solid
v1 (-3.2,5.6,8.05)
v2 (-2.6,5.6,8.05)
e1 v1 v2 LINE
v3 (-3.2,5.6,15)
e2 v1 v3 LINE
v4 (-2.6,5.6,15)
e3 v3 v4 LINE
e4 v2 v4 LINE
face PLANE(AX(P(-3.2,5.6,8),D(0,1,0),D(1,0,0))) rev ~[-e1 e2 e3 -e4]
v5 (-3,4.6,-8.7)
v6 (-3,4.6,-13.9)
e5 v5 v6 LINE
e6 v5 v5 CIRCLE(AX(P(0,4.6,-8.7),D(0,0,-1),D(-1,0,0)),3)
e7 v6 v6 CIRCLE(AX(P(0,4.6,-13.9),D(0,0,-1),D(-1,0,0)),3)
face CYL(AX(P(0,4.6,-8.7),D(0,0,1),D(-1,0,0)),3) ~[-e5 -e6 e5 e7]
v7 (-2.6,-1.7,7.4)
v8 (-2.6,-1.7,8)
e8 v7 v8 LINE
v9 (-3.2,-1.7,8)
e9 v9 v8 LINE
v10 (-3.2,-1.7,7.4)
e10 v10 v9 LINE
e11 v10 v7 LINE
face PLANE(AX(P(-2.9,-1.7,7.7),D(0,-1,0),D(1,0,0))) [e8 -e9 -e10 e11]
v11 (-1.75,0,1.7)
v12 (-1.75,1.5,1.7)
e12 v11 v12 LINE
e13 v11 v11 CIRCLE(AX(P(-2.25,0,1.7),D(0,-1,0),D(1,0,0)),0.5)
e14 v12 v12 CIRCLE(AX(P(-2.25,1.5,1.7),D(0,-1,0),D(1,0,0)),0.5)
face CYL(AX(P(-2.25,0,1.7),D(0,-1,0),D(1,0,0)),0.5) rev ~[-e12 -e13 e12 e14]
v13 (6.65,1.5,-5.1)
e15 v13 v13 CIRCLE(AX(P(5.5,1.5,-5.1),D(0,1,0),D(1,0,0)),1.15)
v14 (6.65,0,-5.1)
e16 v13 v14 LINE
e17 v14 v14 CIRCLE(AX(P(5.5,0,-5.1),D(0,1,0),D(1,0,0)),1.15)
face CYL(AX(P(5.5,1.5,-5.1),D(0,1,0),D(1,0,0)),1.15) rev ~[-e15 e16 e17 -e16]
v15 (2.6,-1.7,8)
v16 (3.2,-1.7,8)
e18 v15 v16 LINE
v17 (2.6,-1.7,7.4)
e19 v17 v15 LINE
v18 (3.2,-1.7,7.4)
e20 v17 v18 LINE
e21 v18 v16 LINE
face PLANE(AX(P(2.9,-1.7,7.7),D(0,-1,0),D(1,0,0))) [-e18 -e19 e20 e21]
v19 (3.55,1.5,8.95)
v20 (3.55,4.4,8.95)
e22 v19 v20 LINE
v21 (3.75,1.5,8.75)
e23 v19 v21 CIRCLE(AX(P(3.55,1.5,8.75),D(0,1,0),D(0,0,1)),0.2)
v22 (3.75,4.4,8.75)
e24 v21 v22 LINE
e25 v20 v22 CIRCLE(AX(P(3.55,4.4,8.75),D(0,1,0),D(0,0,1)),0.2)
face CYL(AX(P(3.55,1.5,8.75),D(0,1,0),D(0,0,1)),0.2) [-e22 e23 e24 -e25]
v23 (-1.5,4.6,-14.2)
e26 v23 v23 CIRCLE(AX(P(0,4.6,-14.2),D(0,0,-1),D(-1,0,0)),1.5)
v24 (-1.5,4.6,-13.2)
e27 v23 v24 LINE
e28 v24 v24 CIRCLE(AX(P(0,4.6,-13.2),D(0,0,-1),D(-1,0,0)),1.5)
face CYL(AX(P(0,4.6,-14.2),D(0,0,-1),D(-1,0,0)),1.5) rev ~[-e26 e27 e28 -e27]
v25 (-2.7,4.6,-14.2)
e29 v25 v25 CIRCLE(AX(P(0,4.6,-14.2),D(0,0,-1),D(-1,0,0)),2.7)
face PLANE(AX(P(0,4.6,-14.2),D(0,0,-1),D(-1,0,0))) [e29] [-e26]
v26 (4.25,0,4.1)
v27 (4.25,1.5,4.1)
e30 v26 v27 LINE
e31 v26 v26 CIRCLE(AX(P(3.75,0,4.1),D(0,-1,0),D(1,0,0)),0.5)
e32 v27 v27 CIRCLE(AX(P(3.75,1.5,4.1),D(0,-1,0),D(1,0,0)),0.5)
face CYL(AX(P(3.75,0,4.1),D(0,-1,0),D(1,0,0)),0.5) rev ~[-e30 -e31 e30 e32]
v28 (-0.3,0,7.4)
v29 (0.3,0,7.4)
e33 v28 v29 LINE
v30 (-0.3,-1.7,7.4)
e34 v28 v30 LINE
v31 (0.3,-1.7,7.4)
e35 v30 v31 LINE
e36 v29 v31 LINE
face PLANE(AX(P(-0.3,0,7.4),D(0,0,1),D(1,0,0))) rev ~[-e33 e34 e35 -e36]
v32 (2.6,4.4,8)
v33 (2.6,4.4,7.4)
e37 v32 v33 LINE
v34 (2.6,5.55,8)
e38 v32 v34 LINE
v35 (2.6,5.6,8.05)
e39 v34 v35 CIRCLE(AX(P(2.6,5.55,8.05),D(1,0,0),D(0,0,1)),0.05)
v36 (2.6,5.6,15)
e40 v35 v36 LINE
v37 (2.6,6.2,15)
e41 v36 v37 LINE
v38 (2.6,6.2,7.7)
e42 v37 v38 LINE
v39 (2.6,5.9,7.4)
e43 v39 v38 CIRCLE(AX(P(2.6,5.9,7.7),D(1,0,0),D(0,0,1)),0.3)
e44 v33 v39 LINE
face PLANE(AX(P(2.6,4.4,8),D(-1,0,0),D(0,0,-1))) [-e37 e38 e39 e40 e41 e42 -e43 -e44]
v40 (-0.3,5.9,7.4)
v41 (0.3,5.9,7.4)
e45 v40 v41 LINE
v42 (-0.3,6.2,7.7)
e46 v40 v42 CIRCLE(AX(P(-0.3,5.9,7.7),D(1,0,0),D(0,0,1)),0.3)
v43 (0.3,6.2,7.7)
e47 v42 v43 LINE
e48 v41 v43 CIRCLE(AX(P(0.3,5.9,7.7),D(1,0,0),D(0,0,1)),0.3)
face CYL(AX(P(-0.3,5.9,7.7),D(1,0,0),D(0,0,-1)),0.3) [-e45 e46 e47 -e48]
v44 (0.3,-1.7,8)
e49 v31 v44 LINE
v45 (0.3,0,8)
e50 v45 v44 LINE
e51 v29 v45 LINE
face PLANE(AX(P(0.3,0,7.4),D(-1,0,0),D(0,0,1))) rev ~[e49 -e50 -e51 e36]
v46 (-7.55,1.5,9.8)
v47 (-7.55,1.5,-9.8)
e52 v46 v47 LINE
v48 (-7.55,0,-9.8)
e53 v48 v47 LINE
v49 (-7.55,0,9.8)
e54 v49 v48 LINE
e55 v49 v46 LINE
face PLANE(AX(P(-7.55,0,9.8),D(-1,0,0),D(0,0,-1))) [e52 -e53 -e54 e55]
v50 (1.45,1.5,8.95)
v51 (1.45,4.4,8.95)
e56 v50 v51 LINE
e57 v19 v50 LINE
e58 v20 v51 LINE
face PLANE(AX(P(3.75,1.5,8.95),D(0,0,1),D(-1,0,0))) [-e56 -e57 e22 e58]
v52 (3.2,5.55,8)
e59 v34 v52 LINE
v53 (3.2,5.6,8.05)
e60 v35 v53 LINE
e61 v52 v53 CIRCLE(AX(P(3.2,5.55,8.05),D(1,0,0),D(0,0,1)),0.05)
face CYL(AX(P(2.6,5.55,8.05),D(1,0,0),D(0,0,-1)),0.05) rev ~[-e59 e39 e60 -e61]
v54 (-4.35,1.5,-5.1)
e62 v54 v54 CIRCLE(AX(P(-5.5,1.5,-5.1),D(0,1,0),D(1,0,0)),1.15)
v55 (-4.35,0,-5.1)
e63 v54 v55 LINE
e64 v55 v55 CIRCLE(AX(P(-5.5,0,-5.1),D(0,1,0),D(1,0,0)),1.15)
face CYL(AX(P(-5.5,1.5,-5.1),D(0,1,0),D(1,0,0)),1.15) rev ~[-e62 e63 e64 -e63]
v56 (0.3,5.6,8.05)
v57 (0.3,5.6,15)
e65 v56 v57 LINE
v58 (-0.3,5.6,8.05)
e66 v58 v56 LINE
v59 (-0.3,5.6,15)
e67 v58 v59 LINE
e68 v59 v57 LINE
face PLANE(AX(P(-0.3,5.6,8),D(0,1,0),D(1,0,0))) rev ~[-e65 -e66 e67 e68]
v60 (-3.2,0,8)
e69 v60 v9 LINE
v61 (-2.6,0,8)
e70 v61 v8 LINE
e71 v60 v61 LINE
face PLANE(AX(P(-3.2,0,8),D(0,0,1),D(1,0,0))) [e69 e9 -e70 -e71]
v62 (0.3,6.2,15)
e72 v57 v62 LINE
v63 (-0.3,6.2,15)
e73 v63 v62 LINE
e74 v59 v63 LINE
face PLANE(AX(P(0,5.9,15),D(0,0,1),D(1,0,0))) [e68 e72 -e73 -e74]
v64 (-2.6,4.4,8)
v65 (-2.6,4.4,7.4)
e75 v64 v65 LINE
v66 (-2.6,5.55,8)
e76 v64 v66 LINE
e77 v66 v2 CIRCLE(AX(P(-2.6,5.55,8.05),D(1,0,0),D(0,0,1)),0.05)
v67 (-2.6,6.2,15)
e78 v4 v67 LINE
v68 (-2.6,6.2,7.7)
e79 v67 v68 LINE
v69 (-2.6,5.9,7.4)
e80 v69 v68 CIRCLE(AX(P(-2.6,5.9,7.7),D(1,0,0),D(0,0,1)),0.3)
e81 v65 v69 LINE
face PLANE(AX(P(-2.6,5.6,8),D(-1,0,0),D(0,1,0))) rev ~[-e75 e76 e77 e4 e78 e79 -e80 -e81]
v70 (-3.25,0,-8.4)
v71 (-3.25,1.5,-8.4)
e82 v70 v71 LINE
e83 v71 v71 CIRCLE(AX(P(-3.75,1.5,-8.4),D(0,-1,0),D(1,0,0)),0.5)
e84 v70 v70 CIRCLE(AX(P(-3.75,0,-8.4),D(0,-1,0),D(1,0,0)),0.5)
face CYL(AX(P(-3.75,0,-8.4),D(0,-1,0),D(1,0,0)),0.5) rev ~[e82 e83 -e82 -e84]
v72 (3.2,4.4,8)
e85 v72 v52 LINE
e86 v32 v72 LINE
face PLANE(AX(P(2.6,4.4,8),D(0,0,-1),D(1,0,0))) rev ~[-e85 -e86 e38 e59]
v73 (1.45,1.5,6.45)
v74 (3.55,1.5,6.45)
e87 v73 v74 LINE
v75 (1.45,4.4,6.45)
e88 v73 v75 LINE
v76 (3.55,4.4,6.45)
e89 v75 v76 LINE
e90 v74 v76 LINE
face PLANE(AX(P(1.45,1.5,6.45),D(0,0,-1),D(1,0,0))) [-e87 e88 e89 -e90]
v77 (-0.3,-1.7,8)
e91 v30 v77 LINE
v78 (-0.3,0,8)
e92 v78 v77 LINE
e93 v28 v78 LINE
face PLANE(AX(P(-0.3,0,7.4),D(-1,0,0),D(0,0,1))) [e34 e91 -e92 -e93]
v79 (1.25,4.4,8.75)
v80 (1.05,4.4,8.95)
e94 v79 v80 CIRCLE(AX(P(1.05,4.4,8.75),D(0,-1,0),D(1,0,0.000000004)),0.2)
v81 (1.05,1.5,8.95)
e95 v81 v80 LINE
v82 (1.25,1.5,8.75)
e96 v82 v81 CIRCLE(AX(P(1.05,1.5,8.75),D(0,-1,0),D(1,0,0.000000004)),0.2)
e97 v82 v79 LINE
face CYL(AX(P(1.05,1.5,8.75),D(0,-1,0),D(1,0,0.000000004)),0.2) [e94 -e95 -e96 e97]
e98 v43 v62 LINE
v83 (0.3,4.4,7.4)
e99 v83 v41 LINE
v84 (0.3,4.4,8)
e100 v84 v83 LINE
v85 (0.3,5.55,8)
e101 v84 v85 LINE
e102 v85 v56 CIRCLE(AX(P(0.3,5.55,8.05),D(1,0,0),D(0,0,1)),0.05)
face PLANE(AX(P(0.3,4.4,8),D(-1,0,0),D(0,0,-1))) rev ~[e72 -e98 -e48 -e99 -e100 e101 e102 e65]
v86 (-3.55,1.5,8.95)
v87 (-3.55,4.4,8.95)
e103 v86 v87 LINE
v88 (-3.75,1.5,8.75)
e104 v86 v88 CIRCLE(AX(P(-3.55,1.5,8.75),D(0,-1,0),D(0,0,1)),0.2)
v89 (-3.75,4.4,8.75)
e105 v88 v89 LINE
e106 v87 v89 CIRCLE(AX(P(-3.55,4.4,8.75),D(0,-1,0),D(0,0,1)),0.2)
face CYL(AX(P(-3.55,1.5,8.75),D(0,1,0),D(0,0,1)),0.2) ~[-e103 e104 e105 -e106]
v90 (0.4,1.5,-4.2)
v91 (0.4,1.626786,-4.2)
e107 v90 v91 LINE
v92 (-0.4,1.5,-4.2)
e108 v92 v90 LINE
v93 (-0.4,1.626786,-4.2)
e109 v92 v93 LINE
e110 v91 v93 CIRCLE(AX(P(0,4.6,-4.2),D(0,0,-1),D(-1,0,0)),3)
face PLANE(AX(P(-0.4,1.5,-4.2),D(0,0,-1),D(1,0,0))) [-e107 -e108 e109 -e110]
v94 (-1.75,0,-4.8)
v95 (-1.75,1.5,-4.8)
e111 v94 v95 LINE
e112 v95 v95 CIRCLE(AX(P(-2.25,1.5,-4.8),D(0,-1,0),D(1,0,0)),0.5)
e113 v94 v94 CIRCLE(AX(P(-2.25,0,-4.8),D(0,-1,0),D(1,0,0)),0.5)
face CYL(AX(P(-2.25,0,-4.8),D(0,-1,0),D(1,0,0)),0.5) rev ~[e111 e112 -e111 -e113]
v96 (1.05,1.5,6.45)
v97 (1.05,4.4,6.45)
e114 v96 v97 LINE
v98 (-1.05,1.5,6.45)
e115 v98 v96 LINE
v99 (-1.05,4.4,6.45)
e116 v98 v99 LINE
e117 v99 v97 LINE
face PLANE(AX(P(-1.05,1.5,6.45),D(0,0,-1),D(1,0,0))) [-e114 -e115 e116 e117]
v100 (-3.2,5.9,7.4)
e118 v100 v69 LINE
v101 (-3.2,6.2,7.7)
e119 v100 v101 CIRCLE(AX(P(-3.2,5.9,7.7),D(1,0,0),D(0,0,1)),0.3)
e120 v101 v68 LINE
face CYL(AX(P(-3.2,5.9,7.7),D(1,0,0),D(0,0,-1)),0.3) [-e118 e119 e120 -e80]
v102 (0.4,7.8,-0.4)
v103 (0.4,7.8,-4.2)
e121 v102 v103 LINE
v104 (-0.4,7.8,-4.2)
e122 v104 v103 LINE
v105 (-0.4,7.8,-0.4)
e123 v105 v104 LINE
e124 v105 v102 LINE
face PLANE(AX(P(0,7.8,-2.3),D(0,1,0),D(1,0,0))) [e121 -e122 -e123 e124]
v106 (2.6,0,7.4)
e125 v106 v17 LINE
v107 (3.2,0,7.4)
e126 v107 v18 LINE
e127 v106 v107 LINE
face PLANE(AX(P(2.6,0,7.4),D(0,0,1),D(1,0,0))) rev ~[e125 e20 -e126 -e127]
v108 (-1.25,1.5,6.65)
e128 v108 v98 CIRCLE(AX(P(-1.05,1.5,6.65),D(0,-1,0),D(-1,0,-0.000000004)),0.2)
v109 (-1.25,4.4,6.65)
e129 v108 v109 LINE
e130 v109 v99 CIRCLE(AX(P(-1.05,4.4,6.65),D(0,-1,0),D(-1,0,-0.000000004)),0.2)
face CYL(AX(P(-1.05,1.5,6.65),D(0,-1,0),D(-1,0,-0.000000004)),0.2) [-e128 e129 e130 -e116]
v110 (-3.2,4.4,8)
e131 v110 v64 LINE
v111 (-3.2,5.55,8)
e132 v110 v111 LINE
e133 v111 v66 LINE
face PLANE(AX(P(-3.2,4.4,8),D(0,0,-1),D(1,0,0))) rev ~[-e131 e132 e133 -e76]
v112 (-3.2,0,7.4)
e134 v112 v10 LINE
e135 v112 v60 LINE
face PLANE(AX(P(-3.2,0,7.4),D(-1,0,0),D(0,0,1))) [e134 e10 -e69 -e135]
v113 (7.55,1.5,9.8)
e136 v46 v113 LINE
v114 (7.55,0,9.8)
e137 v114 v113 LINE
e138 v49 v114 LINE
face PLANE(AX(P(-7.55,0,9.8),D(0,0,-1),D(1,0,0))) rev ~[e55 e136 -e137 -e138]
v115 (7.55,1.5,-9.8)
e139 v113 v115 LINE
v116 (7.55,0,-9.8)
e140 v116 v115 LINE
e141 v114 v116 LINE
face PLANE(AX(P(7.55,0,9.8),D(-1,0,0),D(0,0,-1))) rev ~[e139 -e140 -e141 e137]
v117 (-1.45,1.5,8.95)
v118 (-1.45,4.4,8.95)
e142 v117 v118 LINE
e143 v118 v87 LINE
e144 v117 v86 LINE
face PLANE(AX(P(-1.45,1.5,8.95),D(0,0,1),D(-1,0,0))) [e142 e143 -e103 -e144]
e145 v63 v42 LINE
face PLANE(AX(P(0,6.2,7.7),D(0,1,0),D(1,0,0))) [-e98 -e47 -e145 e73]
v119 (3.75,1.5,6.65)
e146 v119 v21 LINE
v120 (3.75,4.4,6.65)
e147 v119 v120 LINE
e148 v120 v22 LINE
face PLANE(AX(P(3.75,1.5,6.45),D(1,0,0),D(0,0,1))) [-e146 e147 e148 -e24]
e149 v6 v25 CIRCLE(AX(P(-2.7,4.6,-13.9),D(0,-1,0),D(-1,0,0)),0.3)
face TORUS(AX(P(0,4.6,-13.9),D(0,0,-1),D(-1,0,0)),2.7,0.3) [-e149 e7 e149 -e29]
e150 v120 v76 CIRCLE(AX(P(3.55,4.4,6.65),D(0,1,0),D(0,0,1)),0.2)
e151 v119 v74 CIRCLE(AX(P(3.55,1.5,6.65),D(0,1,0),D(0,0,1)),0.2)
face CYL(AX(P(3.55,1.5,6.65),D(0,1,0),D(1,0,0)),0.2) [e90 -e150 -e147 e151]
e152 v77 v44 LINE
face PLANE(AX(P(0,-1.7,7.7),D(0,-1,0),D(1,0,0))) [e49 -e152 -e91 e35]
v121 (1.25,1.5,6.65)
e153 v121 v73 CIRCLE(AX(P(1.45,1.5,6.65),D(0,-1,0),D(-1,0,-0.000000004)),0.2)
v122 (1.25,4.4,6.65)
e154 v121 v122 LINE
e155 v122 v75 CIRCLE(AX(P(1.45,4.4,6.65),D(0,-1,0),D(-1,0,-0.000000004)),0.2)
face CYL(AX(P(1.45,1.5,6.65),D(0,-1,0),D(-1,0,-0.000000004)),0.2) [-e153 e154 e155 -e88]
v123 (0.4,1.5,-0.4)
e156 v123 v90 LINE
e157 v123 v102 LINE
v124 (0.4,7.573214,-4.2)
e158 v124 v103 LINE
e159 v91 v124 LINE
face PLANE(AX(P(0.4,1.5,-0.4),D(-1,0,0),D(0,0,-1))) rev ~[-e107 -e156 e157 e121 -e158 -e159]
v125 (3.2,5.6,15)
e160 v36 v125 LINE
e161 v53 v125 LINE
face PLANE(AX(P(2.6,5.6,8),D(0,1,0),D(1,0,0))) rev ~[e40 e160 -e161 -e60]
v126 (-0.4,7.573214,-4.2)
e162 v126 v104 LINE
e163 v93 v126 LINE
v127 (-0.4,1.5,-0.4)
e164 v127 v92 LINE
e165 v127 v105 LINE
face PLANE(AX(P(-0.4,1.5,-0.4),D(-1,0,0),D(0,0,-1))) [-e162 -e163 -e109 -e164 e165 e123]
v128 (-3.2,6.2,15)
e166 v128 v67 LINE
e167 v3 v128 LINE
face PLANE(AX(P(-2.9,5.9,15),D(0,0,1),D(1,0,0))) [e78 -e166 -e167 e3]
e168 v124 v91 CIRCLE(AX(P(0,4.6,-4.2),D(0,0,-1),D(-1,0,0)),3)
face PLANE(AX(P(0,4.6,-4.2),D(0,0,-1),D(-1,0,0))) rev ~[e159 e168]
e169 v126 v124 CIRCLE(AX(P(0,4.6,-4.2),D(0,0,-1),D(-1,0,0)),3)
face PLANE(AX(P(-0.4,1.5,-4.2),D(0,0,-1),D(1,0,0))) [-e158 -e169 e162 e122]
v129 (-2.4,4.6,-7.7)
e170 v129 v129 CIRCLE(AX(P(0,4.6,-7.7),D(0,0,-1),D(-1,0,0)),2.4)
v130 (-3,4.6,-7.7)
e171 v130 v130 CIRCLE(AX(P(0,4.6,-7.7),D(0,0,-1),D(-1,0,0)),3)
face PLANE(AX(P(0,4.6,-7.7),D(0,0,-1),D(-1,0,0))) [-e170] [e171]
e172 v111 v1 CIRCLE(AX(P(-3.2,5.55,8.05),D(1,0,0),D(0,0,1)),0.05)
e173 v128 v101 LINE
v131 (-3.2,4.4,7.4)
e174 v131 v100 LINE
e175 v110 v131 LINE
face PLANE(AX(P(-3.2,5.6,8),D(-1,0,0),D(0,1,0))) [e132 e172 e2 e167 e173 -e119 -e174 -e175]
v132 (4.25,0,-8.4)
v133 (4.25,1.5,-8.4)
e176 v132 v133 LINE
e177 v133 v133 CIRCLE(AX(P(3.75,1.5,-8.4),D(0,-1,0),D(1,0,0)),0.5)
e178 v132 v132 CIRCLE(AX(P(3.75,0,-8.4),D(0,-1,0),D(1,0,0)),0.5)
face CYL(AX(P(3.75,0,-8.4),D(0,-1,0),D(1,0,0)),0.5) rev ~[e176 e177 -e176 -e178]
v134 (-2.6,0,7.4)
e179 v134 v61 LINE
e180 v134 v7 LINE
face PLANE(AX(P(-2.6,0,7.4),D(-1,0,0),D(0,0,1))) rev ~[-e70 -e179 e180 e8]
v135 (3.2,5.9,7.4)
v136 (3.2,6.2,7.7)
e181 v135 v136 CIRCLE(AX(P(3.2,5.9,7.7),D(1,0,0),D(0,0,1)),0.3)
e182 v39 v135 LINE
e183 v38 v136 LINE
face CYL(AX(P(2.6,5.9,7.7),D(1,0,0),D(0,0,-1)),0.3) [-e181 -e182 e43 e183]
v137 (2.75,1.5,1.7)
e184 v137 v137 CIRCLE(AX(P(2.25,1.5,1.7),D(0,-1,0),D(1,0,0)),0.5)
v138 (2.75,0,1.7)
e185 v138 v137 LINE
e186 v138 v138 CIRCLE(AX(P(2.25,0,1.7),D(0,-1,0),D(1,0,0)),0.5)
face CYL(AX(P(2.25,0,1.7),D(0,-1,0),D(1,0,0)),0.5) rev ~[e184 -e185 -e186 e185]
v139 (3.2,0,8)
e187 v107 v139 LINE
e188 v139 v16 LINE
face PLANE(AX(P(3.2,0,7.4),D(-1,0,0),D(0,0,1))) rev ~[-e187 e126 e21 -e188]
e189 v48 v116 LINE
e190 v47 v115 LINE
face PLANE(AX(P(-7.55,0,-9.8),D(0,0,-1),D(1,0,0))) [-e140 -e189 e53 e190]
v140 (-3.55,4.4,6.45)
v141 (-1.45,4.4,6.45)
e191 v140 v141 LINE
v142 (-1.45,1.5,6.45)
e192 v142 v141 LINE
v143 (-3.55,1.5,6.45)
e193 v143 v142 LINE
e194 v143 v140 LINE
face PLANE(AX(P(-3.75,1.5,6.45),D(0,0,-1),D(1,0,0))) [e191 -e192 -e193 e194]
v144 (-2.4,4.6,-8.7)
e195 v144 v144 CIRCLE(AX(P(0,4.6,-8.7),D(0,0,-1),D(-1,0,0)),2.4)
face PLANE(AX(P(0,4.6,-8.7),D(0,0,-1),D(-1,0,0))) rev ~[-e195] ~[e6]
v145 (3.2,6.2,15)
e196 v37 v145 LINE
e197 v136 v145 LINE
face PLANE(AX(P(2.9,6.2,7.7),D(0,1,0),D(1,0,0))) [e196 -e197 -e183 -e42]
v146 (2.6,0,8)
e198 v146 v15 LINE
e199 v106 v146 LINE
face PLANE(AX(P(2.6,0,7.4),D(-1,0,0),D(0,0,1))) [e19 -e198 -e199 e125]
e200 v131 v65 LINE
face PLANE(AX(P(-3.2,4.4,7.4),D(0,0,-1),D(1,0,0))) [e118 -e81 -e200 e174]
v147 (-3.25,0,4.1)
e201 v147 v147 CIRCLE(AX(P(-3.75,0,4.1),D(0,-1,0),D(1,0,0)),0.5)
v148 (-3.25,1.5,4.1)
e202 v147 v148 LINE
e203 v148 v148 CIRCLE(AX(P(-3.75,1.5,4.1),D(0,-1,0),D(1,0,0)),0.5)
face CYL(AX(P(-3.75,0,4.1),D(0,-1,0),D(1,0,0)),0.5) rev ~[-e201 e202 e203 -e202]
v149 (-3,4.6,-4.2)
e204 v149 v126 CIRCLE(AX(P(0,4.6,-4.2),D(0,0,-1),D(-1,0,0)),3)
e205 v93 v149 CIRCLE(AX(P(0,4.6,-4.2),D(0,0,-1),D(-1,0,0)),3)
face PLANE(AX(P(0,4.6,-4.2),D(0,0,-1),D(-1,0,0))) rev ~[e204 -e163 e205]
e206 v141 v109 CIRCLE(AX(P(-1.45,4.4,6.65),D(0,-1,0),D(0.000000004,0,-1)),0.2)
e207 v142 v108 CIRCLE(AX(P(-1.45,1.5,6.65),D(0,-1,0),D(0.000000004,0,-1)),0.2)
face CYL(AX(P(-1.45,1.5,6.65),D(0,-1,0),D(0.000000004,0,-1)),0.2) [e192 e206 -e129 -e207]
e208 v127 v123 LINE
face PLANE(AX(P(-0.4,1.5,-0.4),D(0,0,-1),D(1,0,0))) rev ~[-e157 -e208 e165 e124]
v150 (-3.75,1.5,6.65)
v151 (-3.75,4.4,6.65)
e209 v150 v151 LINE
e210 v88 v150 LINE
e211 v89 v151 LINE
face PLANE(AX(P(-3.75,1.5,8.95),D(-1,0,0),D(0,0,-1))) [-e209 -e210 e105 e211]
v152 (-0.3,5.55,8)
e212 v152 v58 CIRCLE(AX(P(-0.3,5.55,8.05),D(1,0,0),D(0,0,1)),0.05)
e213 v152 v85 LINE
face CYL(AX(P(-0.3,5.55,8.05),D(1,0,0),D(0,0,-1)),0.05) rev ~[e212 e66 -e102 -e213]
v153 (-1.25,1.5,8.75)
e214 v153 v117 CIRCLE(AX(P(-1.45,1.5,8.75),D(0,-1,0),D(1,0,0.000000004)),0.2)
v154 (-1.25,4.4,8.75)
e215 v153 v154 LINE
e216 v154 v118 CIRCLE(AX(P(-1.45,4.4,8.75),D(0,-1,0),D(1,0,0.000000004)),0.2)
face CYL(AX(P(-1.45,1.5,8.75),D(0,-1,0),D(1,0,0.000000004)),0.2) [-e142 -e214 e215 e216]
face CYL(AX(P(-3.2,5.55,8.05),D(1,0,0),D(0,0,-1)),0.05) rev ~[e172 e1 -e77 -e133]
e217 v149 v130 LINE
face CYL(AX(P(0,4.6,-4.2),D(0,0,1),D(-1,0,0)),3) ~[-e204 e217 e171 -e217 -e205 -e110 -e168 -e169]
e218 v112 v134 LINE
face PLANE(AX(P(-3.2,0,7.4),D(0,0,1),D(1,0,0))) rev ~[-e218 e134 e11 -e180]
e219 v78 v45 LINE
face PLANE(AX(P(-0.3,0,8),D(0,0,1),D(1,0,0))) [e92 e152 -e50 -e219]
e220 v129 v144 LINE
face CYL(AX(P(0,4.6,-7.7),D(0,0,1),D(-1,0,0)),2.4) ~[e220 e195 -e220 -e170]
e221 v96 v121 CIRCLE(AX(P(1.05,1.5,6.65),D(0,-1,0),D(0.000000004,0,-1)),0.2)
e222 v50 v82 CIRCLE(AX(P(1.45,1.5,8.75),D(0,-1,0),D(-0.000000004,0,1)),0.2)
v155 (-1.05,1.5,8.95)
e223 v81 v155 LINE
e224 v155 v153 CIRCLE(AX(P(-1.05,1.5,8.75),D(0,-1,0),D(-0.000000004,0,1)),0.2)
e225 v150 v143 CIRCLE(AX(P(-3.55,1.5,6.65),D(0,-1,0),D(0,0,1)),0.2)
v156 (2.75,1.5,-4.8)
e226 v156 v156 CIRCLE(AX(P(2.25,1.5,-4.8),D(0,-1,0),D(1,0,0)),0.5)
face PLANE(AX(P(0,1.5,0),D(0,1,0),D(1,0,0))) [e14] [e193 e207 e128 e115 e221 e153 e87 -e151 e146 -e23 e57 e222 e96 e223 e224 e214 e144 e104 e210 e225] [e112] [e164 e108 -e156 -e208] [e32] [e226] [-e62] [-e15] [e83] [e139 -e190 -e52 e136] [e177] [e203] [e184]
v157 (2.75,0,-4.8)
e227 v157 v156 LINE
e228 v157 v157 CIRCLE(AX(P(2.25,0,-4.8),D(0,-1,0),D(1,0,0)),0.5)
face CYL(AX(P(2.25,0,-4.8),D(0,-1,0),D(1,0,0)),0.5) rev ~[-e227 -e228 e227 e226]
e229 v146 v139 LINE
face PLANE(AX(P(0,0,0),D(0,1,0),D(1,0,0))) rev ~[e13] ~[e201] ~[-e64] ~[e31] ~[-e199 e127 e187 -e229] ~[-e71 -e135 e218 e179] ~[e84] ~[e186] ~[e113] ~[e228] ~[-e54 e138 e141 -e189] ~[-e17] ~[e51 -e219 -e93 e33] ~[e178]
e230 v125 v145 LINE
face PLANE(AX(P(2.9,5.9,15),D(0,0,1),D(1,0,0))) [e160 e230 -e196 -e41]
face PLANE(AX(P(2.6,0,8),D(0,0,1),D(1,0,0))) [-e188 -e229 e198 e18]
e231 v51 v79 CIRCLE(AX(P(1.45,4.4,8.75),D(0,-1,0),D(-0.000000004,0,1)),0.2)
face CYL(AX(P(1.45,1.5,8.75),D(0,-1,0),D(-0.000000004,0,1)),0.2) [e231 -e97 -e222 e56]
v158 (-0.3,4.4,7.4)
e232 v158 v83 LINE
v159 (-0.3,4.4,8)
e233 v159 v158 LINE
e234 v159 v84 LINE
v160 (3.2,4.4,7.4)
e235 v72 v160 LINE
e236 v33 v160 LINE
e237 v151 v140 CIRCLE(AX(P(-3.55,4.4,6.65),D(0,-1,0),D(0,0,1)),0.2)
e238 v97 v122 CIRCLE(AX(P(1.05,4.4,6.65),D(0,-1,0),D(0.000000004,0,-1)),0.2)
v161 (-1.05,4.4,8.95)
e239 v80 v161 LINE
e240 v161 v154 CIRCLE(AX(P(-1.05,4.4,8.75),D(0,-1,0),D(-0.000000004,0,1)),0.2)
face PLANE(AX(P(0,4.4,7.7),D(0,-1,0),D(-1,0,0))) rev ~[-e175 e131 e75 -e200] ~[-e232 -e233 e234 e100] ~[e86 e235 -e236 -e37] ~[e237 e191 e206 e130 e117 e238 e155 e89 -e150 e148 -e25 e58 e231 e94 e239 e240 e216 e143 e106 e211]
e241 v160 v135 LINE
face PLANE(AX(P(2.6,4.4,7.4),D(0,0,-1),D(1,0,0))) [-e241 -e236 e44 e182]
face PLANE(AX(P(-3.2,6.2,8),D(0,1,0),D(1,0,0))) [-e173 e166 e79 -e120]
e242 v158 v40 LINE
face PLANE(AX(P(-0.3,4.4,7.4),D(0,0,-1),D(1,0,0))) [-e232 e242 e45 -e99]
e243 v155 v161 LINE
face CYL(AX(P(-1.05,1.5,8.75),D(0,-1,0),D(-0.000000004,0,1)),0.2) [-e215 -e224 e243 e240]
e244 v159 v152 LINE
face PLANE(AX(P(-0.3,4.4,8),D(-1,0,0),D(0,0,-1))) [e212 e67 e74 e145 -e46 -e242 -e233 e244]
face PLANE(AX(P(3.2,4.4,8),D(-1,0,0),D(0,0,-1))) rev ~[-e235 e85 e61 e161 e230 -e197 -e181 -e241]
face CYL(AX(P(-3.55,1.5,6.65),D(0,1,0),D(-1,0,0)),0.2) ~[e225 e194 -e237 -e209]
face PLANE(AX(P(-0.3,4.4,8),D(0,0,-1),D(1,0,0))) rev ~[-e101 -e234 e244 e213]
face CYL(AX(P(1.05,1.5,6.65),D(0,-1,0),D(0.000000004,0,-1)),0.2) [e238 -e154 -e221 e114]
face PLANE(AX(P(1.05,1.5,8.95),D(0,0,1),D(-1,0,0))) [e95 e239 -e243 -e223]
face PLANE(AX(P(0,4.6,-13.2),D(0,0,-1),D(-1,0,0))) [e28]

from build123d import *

# Parameters (mm, degrees)
SKETCH1_W           = 15.1
SKETCH1_H           = 19.6
BOSS_EXTRUDE1_DEPTH = 1.5
SKETCH2_W           = 0.6
SKETCH2_H           = 0.6
BOSS_EXTRUDE2_DEPTH = 1.7
BOSS_EXTRUDE3_DEPTH = 2.9
SKETCH4_W           = 0.6
SKETCH4_H           = 0.6
BOSS_EXTRUDE4_DEPTH = 1.8
SKETCH5_W           = 0.6
SKETCH5_H           = 0.6
BOSS_EXTRUDE5_DEPTH = 7
SKETCH7_W           = 0.8
SKETCH7_H           = 3.8
BOSS_EXTRUDE6_DEPTH = 6.3
SKETCH8_R           = 3
BOSS_EXTRUDE7_DEPTH = 3.5
SKETCH9_R           = 2.4
BOSS_EXTRUDE8_DEPTH = 1
SKETCH10_R          = 3
BOSS_EXTRUDE9_DEPTH = 5.5
FILLET1_R           = 0.3
SKETCH11_R          = 1.5
CUT_EXTRUDE1_DEPTH  = 1
SKETCH12_R          = 1.15
CUT_EXTRUDE2_DEPTH  = 4.2
CUT_EXTRUDE3_REACH  = 9.8
SKETCH13_R          = 0.5
CUT_EXTRUDE4_REACH  = 9.8
SKETCH14_R          = 0.5
FILLET2_R           = 0.2
FILLET3_R           = 0.05
FILLET5_R           = 0.3


with BuildPart() as part:
    # Sketch1 → Boss-Extrude1 (new body)
    with BuildSketch(Plane(origin=(0, 0, 0), x_dir=(1, 0, 0), z_dir=(0, 1, 0))):
        Rectangle(SKETCH1_W, SKETCH1_H)
    extrude(amount=BOSS_EXTRUDE1_DEPTH)

    # Sketch2 → Boss-Extrude2 (add)
    with BuildSketch(Plane.XZ):
        with Locations((0, 7.7)):
            Rectangle(SKETCH2_W, SKETCH2_H)
        with Locations((2.9, 7.7)):
            Rectangle(SKETCH2_W, SKETCH2_H)
        with Locations((-2.9, 7.7)):
            Rectangle(SKETCH2_W, SKETCH2_H)
    extrude(amount=BOSS_EXTRUDE2_DEPTH)

    # Sketch3 → Boss-Extrude3 (add)
    with BuildSketch(Plane(origin=(0, 1.5, 0), x_dir=(1, 0, 0), z_dir=(0, 1, 0))):
        with BuildLine():
            Line((-3.75, -8.95), (-3.75, -6.45))
            Line((-3.75, -6.45), (-1.45, -6.45))
            ThreePointArc((-1.45, -6.45), (-1.308578644, -6.508578644), (-1.25, -6.65))
            ThreePointArc((-1.25, -6.65), (-1.191421356, -6.508578644), (-1.05, -6.45))
            Line((-1.05, -6.45), (1.05, -6.45))
            ThreePointArc((1.05, -6.45), (1.191421356, -6.508578644), (1.25, -6.65))
            ThreePointArc((1.25, -6.65), (1.308578644, -6.508578644), (1.45, -6.45))
            Line((1.45, -6.45), (3.75, -6.45))
            Line((3.75, -6.45), (3.75, -8.95))
            Line((3.75, -8.95), (1.45, -8.95))
            ThreePointArc((1.45, -8.95), (1.308578644, -8.891421356), (1.25, -8.75))
            ThreePointArc((1.25, -8.75), (1.191421356, -8.891421356), (1.05, -8.95))
            Line((1.05, -8.95), (-1.05, -8.95))
            ThreePointArc((-1.05, -8.95), (-1.191421356, -8.891421356), (-1.25, -8.75))
            ThreePointArc((-1.25, -8.75), (-1.308578644, -8.891421356), (-1.45, -8.95))
            Line((-1.45, -8.95), (-3.75, -8.95))
        make_face()
    extrude(amount=BOSS_EXTRUDE3_DEPTH)

    # Sketch4 → Boss-Extrude4 (add)
    with BuildSketch(Plane(origin=(0, 4.4, 0), x_dir=(1, 0, 0), z_dir=(0, 1, 0))):
        with Locations((-2.9, -7.7)):
            Rectangle(SKETCH4_W, SKETCH4_H)
        with Locations((0, -7.7)):
            Rectangle(SKETCH4_W, SKETCH4_H)
        with Locations((2.9, -7.7)):
            Rectangle(SKETCH4_W, SKETCH4_H)
    extrude(amount=BOSS_EXTRUDE4_DEPTH)

    # Sketch5 → Boss-Extrude5 (add)
    with BuildSketch(Plane.XY.offset(8)):
        with Locations((-2.9, 5.9)):
            Rectangle(SKETCH5_W, SKETCH5_H)
        with Locations((0, 5.9)):
            Rectangle(SKETCH5_W, SKETCH5_H)
        with Locations((2.9, 5.9)):
            Rectangle(SKETCH5_W, SKETCH5_H)
    extrude(amount=BOSS_EXTRUDE5_DEPTH)

    # Sketch7 → Boss-Extrude6 (add)
    with BuildSketch(Plane(origin=(0, 1.5, 0), x_dir=(1, 0, 0), z_dir=(0, 1, 0))):
        with Locations((0, 2.3)):
            Rectangle(SKETCH7_W, SKETCH7_H)
    extrude(amount=BOSS_EXTRUDE6_DEPTH)

    # Sketch8 → Boss-Extrude7 (add)
    with BuildSketch(Plane(origin=(0, 0, -4.2), x_dir=(-1, 0, 0), z_dir=(0, 0, -1))):
        with Locations((0, 4.6)):
            Circle(SKETCH8_R)
    extrude(amount=BOSS_EXTRUDE7_DEPTH)

    # Sketch9 → Boss-Extrude8 (add)
    with BuildSketch(Plane(origin=(0, 0, -7.7), x_dir=(-1, 0, 0), z_dir=(0, 0, -1))):
        with Locations((0, 4.6)):
            Circle(SKETCH9_R)
    extrude(amount=BOSS_EXTRUDE8_DEPTH)

    # Sketch10 → Boss-Extrude9 (add)
    with BuildSketch(Plane(origin=(0, 0, -8.7), x_dir=(-1, 0, 0), z_dir=(0, 0, -1))):
        with Locations((0, 4.6)):
            Circle(SKETCH10_R)
    extrude(amount=BOSS_EXTRUDE9_DEPTH)

    # Fillet1
    fillet1_edges = [part.edges().sort_by_distance(p)[0] for p in [
        (3, 4.6, -14.2),
    ]]
    fillet(fillet1_edges, radius=FILLET1_R)

    # Sketch11 → Cut-Extrude1 (cut)
    with BuildSketch(Plane(origin=(0, 0, -14.2), x_dir=(-1, 0, 0), z_dir=(0, 0, -1))):
        with Locations((0, 4.6)):
            Circle(SKETCH11_R)
    extrude(amount=-CUT_EXTRUDE1_DEPTH, mode=Mode.SUBTRACT)

    # Sketch12 → Cut-Extrude2 (cut, through all)
    with BuildSketch(Plane(origin=(0, 1.5, 0), x_dir=(1, 0, 0), z_dir=(0, 1, 0))):
        with Locations((-5.5, 5.1)):
            Circle(SKETCH12_R)
        with Locations((5.5, 5.1)):
            Circle(SKETCH12_R)
    extrude(amount=-CUT_EXTRUDE2_DEPTH, mode=Mode.SUBTRACT)

    # Sketch13 → Cut-Extrude3 (cut, up to next)
    with BuildSketch(Plane.XZ, mode=Mode.PRIVATE) as cut_extrude3_sk1:
        with Locations((-2.25, -4.8)):
            Circle(SKETCH13_R)
    cut_extrude3_tool1 = extrude(cut_extrude3_sk1.sketch, amount=-CUT_EXTRUDE3_REACH, mode=Mode.PRIVATE) & part.part
    add(cut_extrude3_tool1.solids().sort_by_distance((-2.25, 0, -4.8))[0], mode=Mode.SUBTRACT)
    # Sketch13 → Cut-Extrude3 (cut, up to next)
    with BuildSketch(Plane.XZ, mode=Mode.PRIVATE) as cut_extrude3_sk2:
        with Locations((2.25, -4.8)):
            Circle(SKETCH13_R)
    cut_extrude3_tool2 = extrude(cut_extrude3_sk2.sketch, amount=-CUT_EXTRUDE3_REACH, mode=Mode.PRIVATE) & part.part
    add(cut_extrude3_tool2.solids().sort_by_distance((2.25, 0, -4.8))[0], mode=Mode.SUBTRACT)
    # Sketch13 → Cut-Extrude3 (cut, up to next)
    with BuildSketch(Plane.XZ, mode=Mode.PRIVATE) as cut_extrude3_sk3:
        with Locations((2.25, 1.7)):
            Circle(SKETCH13_R)
    cut_extrude3_tool3 = extrude(cut_extrude3_sk3.sketch, amount=-CUT_EXTRUDE3_REACH, mode=Mode.PRIVATE) & part.part
    add(cut_extrude3_tool3.solids().sort_by_distance((2.25, 0, 1.7))[0], mode=Mode.SUBTRACT)
    # Sketch13 → Cut-Extrude3 (cut, up to next)
    with BuildSketch(Plane.XZ, mode=Mode.PRIVATE) as cut_extrude3_sk4:
        with Locations((-2.25, 1.7)):
            Circle(SKETCH13_R)
    cut_extrude3_tool4 = extrude(cut_extrude3_sk4.sketch, amount=-CUT_EXTRUDE3_REACH, mode=Mode.PRIVATE) & part.part
    add(cut_extrude3_tool4.solids().sort_by_distance((-2.25, 0, 1.7))[0], mode=Mode.SUBTRACT)

    # Sketch14 → Cut-Extrude4 (cut, up to next)
    with BuildSketch(Plane.XZ, mode=Mode.PRIVATE) as cut_extrude4_sk1:
        with Locations((3.75, 4.1)):
            Circle(SKETCH14_R)
    cut_extrude4_tool1 = extrude(cut_extrude4_sk1.sketch, amount=-CUT_EXTRUDE4_REACH, mode=Mode.PRIVATE) & part.part
    add(cut_extrude4_tool1.solids().sort_by_distance((3.75, 0, 4.1))[0], mode=Mode.SUBTRACT)
    # Sketch14 → Cut-Extrude4 (cut, up to next)
    with BuildSketch(Plane.XZ, mode=Mode.PRIVATE) as cut_extrude4_sk2:
        with Locations((-3.75, 4.1)):
            Circle(SKETCH14_R)
    cut_extrude4_tool2 = extrude(cut_extrude4_sk2.sketch, amount=-CUT_EXTRUDE4_REACH, mode=Mode.PRIVATE) & part.part
    add(cut_extrude4_tool2.solids().sort_by_distance((-3.75, 0, 4.1))[0], mode=Mode.SUBTRACT)
    # Sketch14 → Cut-Extrude4 (cut, up to next)
    with BuildSketch(Plane.XZ, mode=Mode.PRIVATE) as cut_extrude4_sk3:
        with Locations((-3.75, -8.4)):
            Circle(SKETCH14_R)
    cut_extrude4_tool3 = extrude(cut_extrude4_sk3.sketch, amount=-CUT_EXTRUDE4_REACH, mode=Mode.PRIVATE) & part.part
    add(cut_extrude4_tool3.solids().sort_by_distance((-3.75, 0, -8.4))[0], mode=Mode.SUBTRACT)
    # Sketch14 → Cut-Extrude4 (cut, up to next)
    with BuildSketch(Plane.XZ, mode=Mode.PRIVATE) as cut_extrude4_sk4:
        with Locations((3.75, -8.4)):
            Circle(SKETCH14_R)
    cut_extrude4_tool4 = extrude(cut_extrude4_sk4.sketch, amount=-CUT_EXTRUDE4_REACH, mode=Mode.PRIVATE) & part.part
    add(cut_extrude4_tool4.solids().sort_by_distance((3.75, 0, -8.4))[0], mode=Mode.SUBTRACT)

    # Fillet2
    fillet2_edges = [part.edges().sort_by_distance(p)[0] for p in [
        (-3.75, 2.95, 8.95),
        (3.75, 2.95, 8.95),
        (3.75, 2.95, 6.45),
        (-3.75, 2.95, 6.45),
    ]]
    fillet(fillet2_edges, radius=FILLET2_R)

    # Fillet3
    fillet3_edges = [part.edges().sort_by_distance(p)[0] for p in [
        (-2.9, 5.6, 8),
        (0, 5.6, 8),
        (2.9, 5.6, 8),
    ]]
    fillet(fillet3_edges, radius=FILLET3_R)

    # Fillet5
    fillet5_edges = [part.edges().sort_by_distance(p)[0] for p in [
        (0, 6.2, 7.4),
        (2.9, 6.2, 7.4),
        (-2.9, 6.2, 7.4),
    ]]
    fillet(fillet5_edges, radius=FILLET5_R)


solid = part.part
